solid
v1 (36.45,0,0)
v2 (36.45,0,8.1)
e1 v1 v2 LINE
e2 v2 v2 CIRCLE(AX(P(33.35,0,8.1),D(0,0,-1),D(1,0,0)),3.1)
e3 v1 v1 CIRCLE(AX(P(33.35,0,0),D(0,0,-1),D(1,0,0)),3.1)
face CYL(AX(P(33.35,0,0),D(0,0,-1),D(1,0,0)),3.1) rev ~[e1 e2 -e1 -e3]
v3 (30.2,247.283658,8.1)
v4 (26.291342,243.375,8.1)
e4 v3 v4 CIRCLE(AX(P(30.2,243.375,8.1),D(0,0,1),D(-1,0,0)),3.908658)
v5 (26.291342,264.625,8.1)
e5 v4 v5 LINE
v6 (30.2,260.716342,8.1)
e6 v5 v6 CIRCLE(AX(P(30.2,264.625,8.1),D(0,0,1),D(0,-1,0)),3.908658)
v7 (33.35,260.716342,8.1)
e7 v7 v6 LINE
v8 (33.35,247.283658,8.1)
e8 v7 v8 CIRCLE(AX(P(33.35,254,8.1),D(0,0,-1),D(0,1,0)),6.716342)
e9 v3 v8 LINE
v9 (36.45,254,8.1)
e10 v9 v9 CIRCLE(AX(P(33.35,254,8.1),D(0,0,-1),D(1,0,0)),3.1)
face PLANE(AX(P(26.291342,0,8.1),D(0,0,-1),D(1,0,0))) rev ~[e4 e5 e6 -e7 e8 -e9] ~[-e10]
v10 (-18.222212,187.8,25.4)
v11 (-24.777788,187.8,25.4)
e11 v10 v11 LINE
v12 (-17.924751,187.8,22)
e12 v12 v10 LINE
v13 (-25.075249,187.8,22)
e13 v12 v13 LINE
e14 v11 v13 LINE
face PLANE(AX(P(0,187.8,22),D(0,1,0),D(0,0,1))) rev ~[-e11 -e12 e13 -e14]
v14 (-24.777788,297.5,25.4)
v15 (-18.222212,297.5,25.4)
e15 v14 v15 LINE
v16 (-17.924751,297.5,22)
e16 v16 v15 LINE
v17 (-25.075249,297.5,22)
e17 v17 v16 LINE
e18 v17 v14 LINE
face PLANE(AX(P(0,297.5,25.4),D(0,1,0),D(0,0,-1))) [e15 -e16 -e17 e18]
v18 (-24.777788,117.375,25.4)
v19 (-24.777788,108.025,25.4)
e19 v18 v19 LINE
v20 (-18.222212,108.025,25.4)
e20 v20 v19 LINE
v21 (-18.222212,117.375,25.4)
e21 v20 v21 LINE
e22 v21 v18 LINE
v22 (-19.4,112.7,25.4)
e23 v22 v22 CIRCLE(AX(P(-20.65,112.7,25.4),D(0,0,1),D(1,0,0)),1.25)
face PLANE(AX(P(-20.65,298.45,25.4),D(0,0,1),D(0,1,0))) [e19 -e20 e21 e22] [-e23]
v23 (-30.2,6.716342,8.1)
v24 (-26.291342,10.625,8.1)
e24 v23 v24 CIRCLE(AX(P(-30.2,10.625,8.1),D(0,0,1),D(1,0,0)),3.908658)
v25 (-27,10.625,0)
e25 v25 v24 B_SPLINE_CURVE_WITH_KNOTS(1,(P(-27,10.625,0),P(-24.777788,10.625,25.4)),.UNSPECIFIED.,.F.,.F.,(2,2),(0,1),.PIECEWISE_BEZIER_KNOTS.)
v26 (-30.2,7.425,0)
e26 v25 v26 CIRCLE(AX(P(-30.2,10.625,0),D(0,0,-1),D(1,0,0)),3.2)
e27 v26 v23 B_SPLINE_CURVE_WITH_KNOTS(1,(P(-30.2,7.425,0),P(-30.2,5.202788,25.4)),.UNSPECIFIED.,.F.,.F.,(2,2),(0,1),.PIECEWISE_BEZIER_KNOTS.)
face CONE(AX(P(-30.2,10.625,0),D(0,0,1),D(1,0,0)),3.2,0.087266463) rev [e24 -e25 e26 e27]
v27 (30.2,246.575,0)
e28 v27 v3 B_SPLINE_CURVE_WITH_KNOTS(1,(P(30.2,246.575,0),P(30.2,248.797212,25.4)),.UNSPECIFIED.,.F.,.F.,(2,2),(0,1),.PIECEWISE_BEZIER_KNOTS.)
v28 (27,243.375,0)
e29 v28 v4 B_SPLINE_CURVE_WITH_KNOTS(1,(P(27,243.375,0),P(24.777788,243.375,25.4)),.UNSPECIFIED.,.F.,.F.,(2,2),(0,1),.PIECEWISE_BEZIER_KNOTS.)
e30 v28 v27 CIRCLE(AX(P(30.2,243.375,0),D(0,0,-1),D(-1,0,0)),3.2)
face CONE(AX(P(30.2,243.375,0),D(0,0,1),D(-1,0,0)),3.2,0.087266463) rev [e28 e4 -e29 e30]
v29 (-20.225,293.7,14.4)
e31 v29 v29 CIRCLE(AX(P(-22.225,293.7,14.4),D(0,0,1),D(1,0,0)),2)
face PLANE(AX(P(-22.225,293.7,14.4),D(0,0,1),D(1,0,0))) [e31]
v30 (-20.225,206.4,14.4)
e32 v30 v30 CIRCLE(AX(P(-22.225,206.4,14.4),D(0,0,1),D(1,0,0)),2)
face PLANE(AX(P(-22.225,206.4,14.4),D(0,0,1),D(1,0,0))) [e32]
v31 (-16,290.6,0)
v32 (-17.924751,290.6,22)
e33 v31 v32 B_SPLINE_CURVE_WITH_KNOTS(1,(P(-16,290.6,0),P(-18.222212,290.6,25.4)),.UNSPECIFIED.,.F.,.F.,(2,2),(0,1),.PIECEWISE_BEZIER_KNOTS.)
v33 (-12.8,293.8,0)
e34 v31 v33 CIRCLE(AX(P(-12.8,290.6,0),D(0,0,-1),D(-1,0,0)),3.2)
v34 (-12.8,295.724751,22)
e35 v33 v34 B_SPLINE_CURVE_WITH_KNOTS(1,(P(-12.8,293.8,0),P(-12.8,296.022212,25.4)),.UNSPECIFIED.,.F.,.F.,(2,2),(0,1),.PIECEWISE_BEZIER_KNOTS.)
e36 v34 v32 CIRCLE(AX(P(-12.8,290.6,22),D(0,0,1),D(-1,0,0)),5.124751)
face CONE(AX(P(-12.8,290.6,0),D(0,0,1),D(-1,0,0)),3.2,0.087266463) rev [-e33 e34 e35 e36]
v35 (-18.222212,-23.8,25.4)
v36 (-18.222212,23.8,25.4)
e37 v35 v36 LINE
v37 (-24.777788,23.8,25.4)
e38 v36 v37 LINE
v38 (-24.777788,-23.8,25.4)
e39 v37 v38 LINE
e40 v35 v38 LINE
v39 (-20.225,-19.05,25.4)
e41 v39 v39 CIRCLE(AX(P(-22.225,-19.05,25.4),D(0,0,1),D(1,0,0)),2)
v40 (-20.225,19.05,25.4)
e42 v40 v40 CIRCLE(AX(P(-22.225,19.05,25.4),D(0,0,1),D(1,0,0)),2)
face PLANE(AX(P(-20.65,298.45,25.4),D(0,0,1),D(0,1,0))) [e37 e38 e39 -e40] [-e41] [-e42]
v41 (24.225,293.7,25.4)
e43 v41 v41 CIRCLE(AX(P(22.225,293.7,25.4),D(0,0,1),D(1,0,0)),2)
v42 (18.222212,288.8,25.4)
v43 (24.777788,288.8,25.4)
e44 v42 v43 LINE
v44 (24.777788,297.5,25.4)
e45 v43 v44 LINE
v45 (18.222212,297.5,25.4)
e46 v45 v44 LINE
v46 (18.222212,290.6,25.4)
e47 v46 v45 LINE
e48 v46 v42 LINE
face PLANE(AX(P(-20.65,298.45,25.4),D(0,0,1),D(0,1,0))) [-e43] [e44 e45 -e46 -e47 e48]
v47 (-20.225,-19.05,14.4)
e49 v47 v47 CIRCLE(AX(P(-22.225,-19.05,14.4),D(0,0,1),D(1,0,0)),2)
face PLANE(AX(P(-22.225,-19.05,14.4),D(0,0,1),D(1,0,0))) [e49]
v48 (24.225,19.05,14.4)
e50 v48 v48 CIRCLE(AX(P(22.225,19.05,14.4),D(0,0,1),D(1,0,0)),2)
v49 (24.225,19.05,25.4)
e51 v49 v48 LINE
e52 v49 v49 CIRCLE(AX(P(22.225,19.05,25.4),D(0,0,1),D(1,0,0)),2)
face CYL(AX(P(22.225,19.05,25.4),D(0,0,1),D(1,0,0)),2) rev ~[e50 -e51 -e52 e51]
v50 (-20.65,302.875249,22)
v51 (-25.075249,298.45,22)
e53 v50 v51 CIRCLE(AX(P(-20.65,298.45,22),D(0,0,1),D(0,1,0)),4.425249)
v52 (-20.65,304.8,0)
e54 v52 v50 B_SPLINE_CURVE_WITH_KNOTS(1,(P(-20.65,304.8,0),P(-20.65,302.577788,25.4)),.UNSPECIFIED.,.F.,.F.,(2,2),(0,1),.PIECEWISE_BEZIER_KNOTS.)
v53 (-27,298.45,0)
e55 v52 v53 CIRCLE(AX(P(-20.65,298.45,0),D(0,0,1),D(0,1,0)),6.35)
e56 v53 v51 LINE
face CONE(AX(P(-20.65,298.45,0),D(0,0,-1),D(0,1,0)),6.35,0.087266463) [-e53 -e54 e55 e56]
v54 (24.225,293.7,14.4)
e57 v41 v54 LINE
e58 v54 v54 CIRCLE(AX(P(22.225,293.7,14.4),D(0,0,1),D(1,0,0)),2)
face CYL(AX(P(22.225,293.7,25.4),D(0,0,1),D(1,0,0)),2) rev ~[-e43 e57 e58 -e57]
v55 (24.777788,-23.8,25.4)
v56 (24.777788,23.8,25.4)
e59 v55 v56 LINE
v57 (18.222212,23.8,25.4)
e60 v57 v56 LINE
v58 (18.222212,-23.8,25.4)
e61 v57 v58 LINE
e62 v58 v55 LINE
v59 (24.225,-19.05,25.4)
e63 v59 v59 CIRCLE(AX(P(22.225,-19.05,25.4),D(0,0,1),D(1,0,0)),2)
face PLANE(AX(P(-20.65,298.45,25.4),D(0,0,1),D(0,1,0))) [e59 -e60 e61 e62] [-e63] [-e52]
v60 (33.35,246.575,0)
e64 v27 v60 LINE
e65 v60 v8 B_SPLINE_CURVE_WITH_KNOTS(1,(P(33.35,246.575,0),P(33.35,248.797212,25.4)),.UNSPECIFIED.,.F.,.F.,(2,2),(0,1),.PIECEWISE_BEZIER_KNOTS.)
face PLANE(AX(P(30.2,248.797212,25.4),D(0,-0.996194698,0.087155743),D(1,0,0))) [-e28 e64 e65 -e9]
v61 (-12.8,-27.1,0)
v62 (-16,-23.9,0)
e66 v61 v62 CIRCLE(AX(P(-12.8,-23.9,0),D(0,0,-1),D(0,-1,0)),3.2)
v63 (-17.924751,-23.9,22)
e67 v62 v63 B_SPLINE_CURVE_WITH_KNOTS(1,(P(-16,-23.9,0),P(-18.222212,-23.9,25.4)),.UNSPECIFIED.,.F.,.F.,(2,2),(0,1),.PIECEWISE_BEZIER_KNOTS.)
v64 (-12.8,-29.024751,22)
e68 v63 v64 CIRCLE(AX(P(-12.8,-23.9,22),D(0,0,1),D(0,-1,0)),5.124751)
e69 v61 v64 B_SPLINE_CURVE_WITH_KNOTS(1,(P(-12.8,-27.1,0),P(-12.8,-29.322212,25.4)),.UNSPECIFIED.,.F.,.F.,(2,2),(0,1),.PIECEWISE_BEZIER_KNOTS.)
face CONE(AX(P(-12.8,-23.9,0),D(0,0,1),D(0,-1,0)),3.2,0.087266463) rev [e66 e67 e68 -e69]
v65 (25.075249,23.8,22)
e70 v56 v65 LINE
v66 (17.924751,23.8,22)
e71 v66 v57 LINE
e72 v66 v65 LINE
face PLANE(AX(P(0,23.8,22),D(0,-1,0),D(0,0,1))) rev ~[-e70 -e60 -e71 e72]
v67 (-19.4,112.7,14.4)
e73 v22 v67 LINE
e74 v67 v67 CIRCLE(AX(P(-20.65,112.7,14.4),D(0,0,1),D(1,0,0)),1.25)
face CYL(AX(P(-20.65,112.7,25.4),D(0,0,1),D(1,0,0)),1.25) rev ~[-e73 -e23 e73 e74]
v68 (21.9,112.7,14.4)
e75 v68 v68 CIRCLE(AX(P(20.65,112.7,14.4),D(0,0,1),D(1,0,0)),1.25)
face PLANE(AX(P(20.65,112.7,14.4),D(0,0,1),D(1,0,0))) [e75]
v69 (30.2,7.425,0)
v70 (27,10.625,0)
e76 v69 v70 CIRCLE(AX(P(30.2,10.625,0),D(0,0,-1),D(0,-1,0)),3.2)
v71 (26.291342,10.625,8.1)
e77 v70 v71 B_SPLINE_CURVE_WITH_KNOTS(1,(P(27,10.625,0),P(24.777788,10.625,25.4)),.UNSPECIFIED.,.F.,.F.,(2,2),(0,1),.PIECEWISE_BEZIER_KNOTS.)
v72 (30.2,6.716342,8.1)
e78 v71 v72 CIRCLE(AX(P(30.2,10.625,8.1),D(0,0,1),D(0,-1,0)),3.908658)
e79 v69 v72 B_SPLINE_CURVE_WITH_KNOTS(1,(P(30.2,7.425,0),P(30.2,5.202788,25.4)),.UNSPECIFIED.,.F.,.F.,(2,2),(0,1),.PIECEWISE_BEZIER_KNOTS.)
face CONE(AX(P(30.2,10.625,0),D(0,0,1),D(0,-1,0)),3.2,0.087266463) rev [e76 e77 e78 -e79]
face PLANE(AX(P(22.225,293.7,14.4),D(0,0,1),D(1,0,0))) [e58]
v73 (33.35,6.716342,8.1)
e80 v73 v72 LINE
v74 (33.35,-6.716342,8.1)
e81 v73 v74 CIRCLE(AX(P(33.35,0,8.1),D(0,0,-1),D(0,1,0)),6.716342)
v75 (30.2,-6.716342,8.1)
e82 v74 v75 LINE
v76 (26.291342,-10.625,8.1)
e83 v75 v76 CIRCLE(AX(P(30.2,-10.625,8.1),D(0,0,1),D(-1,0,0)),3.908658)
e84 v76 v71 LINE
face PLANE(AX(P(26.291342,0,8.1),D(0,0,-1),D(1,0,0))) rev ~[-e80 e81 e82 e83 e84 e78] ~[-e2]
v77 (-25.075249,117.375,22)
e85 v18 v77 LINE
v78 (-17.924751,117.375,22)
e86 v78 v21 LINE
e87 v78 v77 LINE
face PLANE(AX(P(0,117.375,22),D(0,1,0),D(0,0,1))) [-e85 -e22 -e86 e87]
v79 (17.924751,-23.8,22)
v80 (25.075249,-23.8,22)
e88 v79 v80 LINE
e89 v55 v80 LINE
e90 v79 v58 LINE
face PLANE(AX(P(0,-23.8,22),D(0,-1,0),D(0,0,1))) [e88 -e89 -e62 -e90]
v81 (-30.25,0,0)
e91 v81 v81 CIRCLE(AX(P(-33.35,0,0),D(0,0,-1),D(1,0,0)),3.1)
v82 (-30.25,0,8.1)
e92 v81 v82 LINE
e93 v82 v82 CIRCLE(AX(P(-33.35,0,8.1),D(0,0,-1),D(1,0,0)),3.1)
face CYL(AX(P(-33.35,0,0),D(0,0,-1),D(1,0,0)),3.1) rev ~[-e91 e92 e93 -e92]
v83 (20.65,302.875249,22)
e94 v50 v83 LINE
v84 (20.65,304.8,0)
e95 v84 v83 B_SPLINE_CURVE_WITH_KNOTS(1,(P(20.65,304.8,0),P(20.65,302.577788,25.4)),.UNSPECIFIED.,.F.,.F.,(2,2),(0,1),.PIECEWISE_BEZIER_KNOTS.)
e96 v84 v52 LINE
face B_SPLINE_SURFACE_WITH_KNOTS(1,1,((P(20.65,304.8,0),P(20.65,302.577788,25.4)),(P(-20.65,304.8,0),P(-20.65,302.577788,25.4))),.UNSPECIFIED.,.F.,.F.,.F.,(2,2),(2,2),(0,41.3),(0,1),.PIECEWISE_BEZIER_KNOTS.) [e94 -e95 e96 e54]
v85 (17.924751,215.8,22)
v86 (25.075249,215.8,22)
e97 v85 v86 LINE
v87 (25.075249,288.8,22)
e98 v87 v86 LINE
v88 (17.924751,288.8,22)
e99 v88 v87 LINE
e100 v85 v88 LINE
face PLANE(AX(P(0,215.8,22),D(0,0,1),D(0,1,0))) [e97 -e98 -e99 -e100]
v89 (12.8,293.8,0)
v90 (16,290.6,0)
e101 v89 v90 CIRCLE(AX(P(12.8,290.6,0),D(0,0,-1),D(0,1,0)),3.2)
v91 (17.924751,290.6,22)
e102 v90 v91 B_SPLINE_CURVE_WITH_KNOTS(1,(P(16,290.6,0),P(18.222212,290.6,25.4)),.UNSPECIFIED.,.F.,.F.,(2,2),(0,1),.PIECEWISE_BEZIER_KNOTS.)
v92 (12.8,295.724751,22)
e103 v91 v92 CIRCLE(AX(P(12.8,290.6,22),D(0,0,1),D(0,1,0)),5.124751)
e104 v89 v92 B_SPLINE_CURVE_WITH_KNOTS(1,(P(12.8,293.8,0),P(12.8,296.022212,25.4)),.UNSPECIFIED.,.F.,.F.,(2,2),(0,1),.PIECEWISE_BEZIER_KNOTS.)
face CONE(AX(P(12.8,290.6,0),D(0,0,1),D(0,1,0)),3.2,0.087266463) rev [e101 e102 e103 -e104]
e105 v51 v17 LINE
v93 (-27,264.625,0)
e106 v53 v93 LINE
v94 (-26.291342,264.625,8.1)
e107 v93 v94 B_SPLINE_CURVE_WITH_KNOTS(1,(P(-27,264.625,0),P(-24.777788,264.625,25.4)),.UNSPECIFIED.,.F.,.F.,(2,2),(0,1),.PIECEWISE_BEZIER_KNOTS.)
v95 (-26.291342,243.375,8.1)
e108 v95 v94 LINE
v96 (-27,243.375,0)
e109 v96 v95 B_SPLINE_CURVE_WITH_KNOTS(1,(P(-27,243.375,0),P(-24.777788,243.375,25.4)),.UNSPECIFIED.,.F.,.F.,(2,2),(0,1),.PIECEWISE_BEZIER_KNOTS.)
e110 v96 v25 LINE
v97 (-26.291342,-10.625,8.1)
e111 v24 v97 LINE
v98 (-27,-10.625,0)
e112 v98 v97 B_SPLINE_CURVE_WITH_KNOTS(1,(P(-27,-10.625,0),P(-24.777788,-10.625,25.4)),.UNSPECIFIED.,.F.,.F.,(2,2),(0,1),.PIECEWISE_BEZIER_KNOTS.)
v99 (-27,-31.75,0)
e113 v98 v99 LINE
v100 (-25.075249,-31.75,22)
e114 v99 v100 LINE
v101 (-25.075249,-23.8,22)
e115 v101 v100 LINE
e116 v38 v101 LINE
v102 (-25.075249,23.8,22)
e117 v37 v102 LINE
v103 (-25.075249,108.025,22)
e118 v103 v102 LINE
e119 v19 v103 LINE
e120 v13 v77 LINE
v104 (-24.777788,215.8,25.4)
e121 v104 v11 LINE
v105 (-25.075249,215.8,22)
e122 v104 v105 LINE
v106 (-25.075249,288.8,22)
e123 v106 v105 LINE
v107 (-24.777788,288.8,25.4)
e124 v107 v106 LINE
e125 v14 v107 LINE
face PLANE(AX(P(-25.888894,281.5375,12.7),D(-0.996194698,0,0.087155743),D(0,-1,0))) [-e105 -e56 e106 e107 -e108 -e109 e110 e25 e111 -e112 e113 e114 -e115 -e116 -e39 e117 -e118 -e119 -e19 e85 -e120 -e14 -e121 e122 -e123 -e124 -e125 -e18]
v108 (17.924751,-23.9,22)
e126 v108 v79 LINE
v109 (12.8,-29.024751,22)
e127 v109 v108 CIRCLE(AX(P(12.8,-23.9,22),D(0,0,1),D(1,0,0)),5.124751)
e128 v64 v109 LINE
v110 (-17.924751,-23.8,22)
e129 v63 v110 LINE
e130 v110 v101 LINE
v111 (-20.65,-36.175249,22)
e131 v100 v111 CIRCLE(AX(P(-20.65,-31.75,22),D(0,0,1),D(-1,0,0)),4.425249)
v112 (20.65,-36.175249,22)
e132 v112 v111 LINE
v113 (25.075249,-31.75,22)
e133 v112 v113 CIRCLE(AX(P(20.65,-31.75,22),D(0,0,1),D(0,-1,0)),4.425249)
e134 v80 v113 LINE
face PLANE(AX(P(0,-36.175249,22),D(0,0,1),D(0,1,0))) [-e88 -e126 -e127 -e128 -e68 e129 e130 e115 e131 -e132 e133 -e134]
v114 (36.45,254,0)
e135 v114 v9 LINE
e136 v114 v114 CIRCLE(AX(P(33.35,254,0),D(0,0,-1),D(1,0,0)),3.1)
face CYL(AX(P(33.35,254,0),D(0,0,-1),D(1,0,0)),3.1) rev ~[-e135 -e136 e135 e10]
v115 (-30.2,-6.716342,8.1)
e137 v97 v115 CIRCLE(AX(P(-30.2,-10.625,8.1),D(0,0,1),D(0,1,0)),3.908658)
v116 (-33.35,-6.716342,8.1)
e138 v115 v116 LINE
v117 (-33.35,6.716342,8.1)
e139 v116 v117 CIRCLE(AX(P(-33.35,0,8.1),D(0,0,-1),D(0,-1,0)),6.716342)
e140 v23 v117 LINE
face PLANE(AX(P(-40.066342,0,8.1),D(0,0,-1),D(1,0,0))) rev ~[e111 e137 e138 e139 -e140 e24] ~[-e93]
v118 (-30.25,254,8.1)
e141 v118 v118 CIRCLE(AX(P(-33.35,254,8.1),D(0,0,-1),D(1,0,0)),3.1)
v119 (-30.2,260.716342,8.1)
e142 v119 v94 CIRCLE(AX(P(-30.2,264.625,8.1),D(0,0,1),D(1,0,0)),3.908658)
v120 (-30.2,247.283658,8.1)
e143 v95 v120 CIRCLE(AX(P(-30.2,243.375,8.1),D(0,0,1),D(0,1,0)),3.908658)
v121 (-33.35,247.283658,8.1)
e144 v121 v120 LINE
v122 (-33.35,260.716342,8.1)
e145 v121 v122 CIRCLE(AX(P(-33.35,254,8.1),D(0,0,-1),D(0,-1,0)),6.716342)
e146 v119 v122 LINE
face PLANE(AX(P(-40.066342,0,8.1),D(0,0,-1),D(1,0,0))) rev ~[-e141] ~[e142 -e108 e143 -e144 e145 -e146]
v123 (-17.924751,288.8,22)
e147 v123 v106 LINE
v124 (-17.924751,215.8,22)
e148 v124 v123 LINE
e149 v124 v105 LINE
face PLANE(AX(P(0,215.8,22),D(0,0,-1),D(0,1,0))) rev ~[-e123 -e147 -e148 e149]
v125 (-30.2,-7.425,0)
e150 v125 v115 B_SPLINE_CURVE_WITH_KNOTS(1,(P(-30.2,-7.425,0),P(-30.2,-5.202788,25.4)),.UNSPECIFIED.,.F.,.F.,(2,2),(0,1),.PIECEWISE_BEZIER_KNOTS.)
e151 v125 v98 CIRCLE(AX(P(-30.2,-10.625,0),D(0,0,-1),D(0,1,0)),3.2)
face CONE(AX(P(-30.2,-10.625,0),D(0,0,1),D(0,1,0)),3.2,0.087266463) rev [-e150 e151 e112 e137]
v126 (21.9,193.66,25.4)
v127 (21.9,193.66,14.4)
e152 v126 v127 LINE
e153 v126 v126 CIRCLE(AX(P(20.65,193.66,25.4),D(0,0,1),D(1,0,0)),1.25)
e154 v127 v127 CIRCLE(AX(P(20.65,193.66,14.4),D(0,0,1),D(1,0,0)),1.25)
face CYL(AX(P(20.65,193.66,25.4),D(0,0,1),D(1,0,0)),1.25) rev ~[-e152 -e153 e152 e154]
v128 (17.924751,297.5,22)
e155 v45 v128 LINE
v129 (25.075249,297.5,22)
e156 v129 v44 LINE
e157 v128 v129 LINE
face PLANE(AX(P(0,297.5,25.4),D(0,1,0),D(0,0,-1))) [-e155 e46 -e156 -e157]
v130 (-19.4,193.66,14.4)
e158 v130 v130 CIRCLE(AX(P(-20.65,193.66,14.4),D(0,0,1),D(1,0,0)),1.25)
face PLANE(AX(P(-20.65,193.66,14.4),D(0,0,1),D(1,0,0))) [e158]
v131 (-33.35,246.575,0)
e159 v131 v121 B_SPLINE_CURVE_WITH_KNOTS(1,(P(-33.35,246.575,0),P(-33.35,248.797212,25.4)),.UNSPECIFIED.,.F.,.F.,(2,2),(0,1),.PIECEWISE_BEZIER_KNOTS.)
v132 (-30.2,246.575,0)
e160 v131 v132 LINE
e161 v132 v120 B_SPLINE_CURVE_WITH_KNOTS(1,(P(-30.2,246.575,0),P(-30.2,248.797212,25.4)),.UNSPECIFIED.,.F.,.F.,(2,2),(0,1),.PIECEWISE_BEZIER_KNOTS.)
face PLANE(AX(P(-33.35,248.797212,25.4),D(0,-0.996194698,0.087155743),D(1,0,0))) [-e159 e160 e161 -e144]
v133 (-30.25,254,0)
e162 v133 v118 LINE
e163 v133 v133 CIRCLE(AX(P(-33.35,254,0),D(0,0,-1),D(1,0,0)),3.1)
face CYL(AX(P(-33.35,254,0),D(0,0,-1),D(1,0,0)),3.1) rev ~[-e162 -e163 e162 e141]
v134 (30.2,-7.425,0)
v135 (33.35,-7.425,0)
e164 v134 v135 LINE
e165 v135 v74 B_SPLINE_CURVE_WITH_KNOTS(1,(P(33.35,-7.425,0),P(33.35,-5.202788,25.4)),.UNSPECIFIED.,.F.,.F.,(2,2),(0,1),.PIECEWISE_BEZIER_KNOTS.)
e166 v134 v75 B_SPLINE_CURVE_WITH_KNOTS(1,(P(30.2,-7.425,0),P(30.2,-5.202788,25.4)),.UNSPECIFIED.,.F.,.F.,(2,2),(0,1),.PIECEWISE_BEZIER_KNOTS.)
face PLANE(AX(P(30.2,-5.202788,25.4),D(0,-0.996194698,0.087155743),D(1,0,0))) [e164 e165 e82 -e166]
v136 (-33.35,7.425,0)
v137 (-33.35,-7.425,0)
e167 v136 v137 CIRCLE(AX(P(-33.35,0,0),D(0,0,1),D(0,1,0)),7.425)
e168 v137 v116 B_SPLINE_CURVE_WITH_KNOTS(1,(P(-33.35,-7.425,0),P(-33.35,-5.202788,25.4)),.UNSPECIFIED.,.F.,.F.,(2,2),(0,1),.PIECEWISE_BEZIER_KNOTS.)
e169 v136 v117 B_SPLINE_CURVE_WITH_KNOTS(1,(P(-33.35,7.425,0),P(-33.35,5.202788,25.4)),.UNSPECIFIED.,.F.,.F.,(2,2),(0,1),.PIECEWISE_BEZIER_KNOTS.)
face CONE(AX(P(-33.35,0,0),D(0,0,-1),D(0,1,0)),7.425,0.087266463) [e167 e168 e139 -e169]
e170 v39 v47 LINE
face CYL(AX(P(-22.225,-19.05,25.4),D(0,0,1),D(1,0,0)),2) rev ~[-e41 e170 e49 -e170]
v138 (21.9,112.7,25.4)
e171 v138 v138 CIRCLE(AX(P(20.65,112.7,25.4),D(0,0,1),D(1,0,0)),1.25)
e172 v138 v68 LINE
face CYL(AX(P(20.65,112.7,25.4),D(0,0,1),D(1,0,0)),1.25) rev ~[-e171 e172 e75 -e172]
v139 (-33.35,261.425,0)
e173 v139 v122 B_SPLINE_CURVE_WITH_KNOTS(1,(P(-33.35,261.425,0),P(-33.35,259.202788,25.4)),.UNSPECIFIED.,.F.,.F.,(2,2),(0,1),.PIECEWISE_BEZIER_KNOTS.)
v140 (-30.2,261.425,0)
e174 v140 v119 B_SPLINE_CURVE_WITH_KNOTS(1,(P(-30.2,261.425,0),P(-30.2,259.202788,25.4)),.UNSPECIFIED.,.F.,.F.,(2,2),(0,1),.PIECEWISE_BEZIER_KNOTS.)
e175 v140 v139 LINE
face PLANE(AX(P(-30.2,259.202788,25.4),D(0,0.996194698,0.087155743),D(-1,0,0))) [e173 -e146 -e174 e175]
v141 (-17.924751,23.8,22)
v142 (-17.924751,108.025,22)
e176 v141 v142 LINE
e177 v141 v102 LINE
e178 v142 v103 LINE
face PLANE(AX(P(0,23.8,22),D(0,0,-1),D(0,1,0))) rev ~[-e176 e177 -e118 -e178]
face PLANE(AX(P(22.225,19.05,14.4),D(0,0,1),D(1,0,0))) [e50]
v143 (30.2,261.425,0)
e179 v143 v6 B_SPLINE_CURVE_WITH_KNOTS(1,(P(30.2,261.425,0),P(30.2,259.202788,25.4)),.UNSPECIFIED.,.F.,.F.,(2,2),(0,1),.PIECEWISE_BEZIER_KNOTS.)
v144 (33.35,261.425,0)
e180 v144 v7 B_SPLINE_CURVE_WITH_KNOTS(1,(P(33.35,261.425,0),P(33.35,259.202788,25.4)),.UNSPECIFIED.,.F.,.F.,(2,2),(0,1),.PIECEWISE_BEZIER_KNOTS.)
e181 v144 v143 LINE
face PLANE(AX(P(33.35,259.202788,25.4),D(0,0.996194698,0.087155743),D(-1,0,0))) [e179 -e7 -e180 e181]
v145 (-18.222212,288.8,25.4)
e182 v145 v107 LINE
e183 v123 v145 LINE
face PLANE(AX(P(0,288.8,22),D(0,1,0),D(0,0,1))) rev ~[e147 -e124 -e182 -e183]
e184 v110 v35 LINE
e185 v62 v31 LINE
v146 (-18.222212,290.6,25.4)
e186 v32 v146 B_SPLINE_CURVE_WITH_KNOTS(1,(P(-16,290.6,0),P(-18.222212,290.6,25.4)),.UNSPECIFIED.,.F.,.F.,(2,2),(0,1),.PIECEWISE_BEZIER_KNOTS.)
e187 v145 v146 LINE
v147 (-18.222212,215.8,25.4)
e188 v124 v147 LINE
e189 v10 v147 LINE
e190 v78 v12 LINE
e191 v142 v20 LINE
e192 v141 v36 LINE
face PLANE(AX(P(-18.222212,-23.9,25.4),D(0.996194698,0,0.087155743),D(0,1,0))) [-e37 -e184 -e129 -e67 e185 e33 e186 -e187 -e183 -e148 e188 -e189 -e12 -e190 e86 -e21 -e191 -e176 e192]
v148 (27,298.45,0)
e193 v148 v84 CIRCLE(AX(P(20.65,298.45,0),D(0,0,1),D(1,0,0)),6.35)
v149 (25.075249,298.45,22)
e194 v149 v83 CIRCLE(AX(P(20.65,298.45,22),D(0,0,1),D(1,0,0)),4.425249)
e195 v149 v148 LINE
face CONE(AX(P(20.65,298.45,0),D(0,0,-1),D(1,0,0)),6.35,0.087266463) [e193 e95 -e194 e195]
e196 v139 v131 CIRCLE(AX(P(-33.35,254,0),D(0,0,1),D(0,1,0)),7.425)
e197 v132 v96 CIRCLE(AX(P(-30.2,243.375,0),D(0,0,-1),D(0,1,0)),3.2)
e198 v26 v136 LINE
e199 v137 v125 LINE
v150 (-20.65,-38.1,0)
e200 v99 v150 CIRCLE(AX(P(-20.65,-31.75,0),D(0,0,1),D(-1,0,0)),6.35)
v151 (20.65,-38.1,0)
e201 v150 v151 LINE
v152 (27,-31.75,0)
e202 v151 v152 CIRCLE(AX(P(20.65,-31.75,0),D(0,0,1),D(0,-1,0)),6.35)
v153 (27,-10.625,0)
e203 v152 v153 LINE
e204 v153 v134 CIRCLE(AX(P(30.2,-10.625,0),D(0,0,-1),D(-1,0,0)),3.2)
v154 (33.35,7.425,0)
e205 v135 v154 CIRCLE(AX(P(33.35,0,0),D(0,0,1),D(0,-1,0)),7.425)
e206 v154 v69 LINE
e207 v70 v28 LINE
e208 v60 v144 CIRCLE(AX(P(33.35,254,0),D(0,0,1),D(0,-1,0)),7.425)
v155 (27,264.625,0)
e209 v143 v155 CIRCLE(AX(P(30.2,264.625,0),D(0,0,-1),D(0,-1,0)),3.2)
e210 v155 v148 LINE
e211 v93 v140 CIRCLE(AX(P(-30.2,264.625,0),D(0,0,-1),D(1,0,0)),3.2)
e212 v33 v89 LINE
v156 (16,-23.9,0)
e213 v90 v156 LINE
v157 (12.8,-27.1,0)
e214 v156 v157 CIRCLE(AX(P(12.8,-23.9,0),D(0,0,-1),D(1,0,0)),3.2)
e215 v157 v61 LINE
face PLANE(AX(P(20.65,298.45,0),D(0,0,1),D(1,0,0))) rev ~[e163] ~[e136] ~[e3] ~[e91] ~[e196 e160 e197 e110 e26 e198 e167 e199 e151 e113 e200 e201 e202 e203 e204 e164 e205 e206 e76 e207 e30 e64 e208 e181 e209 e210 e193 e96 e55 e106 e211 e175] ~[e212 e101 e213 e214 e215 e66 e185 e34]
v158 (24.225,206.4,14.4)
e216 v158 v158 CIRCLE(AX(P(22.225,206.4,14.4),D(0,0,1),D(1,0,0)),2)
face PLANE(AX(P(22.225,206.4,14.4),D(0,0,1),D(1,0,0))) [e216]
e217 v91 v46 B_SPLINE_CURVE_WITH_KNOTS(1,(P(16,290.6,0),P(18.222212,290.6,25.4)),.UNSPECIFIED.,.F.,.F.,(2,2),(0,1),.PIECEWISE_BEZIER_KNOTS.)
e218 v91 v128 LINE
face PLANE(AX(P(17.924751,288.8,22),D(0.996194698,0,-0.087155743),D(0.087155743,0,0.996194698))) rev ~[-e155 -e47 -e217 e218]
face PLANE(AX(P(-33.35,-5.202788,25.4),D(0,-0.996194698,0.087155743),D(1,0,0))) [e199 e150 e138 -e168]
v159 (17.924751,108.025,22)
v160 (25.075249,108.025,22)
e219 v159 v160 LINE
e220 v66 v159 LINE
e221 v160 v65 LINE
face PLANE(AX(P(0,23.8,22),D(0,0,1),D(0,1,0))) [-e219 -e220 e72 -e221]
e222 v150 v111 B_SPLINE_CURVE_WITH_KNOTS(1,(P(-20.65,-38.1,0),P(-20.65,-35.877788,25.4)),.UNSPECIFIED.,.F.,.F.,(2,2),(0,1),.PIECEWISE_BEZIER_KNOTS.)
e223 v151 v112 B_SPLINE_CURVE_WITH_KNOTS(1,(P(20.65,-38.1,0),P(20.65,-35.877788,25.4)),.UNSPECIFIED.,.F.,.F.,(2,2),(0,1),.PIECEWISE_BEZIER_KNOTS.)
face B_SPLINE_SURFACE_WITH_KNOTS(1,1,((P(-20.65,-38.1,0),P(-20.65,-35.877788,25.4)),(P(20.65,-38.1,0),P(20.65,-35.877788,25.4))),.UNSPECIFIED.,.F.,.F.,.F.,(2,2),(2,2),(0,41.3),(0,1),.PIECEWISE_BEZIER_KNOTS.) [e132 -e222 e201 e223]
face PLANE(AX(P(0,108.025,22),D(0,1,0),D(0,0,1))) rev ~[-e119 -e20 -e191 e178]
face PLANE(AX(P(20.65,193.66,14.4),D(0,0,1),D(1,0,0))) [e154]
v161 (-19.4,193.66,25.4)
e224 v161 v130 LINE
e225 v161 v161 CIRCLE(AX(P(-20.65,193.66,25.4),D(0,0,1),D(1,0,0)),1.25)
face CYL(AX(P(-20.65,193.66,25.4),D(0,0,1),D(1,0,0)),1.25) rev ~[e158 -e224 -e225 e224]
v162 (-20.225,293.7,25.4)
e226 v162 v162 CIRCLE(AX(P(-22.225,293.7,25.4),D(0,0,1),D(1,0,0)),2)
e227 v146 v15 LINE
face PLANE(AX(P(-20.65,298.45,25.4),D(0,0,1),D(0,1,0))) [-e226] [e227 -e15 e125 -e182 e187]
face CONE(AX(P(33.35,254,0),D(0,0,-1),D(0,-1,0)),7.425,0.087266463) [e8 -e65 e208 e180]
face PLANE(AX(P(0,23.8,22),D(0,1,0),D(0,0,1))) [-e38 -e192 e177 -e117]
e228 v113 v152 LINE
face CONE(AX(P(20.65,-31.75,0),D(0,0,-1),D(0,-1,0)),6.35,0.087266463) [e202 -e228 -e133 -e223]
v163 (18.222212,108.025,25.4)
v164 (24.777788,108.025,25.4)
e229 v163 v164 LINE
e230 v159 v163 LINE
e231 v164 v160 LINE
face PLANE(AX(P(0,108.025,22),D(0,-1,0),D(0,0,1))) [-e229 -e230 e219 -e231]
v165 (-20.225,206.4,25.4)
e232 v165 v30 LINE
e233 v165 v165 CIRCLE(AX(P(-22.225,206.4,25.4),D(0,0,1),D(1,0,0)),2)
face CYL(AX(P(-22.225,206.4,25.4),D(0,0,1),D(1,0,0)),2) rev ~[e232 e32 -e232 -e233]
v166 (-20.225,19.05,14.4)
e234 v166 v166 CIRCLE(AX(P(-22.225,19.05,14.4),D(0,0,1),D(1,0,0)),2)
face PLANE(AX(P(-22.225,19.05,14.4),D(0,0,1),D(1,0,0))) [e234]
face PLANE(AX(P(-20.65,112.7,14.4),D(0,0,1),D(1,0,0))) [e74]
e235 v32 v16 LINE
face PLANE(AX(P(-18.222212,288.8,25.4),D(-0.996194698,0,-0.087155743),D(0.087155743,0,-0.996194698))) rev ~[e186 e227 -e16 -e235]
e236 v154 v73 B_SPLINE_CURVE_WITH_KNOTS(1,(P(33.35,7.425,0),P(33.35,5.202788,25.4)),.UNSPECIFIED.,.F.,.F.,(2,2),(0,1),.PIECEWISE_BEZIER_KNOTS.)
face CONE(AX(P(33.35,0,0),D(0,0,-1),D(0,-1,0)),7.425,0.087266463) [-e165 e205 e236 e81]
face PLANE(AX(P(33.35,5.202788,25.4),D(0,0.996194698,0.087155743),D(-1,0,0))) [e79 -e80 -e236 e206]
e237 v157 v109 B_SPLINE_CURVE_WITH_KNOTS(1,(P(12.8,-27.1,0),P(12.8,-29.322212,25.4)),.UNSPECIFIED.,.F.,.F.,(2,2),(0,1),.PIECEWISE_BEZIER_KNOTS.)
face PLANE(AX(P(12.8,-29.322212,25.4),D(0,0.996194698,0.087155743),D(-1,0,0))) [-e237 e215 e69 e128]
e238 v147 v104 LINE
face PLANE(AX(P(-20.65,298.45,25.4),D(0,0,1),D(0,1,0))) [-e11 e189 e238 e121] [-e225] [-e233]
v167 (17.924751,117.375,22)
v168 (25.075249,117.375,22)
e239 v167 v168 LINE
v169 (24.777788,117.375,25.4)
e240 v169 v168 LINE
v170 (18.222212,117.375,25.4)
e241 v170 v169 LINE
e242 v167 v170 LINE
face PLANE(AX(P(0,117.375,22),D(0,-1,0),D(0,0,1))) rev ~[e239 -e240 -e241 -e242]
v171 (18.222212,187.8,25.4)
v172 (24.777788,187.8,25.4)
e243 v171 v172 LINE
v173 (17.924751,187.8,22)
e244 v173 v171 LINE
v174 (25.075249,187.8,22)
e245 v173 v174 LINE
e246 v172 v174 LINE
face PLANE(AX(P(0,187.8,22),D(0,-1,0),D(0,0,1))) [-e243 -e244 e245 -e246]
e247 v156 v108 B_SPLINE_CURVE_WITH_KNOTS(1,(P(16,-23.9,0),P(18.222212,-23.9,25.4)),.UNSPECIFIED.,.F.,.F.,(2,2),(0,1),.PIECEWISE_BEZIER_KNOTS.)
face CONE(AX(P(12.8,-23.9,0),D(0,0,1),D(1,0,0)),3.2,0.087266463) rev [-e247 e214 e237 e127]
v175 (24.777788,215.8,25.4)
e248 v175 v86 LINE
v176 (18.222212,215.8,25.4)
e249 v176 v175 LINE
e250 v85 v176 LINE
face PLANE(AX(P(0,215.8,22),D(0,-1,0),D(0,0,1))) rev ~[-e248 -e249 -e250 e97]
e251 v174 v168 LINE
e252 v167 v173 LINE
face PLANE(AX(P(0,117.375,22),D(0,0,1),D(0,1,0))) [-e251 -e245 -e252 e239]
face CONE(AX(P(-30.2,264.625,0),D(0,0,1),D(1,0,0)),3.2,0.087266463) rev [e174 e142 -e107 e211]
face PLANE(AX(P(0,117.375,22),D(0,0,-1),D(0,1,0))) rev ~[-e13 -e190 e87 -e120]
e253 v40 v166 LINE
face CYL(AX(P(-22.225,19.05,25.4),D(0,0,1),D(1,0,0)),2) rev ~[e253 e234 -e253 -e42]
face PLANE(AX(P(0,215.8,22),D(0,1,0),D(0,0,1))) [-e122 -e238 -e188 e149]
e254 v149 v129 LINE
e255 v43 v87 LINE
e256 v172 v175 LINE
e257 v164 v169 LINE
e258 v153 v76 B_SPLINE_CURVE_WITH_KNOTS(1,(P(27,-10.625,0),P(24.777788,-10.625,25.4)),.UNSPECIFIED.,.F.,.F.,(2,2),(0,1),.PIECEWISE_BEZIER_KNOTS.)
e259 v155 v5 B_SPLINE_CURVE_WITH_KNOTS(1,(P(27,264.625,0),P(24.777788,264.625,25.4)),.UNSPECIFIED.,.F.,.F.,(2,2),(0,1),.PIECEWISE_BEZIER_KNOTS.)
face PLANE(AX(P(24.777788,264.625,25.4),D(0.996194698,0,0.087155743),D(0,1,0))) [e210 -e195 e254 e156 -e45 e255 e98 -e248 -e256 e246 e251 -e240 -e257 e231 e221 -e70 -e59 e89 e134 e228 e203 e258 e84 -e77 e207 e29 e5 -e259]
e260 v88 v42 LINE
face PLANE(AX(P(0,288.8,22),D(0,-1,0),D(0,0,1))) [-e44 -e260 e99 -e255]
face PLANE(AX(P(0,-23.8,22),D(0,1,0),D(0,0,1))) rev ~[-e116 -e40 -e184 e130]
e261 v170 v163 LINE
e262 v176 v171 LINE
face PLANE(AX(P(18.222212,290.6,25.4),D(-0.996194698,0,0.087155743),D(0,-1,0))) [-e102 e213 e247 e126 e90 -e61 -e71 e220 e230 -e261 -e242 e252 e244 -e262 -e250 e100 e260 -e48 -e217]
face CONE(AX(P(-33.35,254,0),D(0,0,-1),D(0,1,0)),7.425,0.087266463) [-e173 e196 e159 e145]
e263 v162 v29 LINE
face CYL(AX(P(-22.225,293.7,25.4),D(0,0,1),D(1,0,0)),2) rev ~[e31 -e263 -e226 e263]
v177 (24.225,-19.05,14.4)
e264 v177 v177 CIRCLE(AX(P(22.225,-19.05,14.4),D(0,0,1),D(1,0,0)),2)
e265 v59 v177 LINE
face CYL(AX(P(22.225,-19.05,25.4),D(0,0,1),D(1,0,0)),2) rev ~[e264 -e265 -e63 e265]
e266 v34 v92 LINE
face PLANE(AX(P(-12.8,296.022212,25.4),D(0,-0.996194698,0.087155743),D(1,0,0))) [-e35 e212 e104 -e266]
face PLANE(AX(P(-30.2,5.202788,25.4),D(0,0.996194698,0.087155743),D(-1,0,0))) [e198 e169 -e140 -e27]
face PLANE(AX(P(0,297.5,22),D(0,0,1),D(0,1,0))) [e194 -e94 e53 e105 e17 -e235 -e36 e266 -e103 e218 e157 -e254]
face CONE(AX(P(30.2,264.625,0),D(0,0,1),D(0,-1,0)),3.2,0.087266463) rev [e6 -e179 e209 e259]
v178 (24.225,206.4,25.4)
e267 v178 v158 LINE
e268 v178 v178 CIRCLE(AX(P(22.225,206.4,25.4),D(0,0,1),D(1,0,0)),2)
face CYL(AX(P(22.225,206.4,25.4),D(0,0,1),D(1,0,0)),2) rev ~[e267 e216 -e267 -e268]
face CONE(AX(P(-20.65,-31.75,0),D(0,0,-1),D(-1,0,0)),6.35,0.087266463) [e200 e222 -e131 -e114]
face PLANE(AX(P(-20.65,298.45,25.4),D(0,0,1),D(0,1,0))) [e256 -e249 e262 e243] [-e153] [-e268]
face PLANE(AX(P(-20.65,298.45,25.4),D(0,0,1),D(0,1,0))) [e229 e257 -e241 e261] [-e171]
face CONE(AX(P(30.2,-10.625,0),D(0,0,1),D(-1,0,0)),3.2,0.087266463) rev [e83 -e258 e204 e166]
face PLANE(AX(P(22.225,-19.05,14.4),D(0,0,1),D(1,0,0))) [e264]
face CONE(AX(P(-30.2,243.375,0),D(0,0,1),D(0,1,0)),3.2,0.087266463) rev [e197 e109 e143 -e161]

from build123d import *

# Parameters (mm, degrees)
F1_DEPTH      = 25.4
F1_TAPER      = 5
F3_DEPTH      = 304.8010001
F3_DEPTH_BACK = 38.1010001
F4_W          = 70.425
F4_H          = 3.4
F4_W_2        = 84.225
F5_DEPTH      = 40.7760001
F5_DEPTH_BACK = 40.7760001
F6_W          = 73
F6_H          = 3.4
F7_DEPTH      = 40.7760001
F7_DEPTH_BACK = 40.7760001
F9_DEPTH      = 16.0010001
F10_R         = 3.1
F11_DEPTH     = 25.4010001
F12_R         = 2
F12_R_2       = 1.25
F13_DEPTH     = 11


with BuildPart() as f1:
    # F0 (on Top) → F1 (new body)
    with BuildSketch(Plane.XY):
        with BuildLine():
            Line((20.65, 304.8), (-20.65, 304.8))
            ThreePointArc((-20.65, 304.8), (-25.1401280605, 302.9401280605), (-27, 298.45))
            Line((-27, 298.45), (-27, 264.625))
            ThreePointArc((-27, 264.625), (-27.9372583002, 262.3622583002), (-30.2, 261.425))
            Line((-30.2, 261.425), (-33.35, 261.425))
            ThreePointArc((-33.35, 261.425), (-40.775, 254), (-33.35, 246.575))
            Line((-33.35, 246.575), (-30.2, 246.575))
            ThreePointArc((-30.2, 246.575), (-27.9372583002, 245.6377416998), (-27, 243.375))
            Line((-27, 243.375), (-27, 10.625))
            ThreePointArc((-27, 10.625), (-27.9372583002, 8.3622583002), (-30.2, 7.425))
            Line((-30.2, 7.425), (-33.35, 7.425))
            ThreePointArc((-33.35, 7.425), (-40.775, 0), (-33.35, -7.425))
            Line((-33.35, -7.425), (-30.2, -7.425))
            ThreePointArc((-30.2, -7.425), (-27.9372583002, -8.3622583002), (-27, -10.625))
            Line((-27, -10.625), (-27, -31.75))
            ThreePointArc((-27, -31.75), (-25.1401280605, -36.2401280605), (-20.65, -38.1))
            Line((-20.65, -38.1), (20.65, -38.1))
            ThreePointArc((20.65, -38.1), (25.1401280605, -36.2401280605), (27, -31.75))
            Line((27, -31.75), (27, -10.625))
            ThreePointArc((27, -10.625), (27.9372583002, -8.3622583002), (30.2, -7.425))
            Line((30.2, -7.425), (33.35, -7.425))
            ThreePointArc((33.35, -7.425), (40.775, 0), (33.35, 7.425))
            Line((33.35, 7.425), (30.2, 7.425))
            ThreePointArc((30.2, 7.425), (27.9372583002, 8.3622583002), (27, 10.625))
            Line((27, 10.625), (27, 243.375))
            ThreePointArc((27, 243.375), (27.9372583002, 245.6377416998), (30.2, 246.575))
            Line((30.2, 246.575), (33.35, 246.575))
            ThreePointArc((33.35, 246.575), (40.775, 254), (33.35, 261.425))
            Line((33.35, 261.425), (30.2, 261.425))
            ThreePointArc((30.2, 261.425), (27.9372583002, 262.3622583002), (27, 264.625))
            Line((27, 264.625), (27, 298.45))
            ThreePointArc((27, 298.45), (25.1401280605, 302.9401280605), (20.65, 304.8))
        make_face()
        with BuildLine():
            ThreePointArc((-16, 290.6), (-15.0627416998, 292.8627416998), (-12.8, 293.8))
            Line((-12.8, 293.8), (12.8, 293.8))
            ThreePointArc((12.8, 293.8), (15.0627416998, 292.8627416998), (16, 290.6))
            Line((16, 290.6), (16, -23.9))
            ThreePointArc((16, -23.9), (15.0627416998, -26.1627416998), (12.8, -27.1))
            Line((12.8, -27.1), (-12.8, -27.1))
            ThreePointArc((-12.8, -27.1), (-15.0627416998, -26.1627416998), (-16, -23.9))
            Line((-16, -23.9), (-16, 290.6))
        make_face(mode=Mode.SUBTRACT)
    extrude(amount=F1_DEPTH, taper=F1_TAPER)

    # F2 (on Front) → F3 (cut, two sides)
    with BuildSketch(Plane.XZ) as f3_sk:
        Polygon((-26.2913418254, 8.1), (-24.7777879464, 25.4), (-38.5527879464, 25.4), (-40.0663418254, 8.1), align=None)
        Polygon((38.5527879464, 25.4), (24.7777879464, 25.4), (26.2913418254, 8.1), (40.0663418254, 8.1), align=None)
    extrude(amount=-F3_DEPTH, mode=Mode.SUBTRACT)
    extrude(f3_sk.sketch, amount=F3_DEPTH_BACK, mode=Mode.SUBTRACT)

    # F4 (on Right) → F5 (cut, two sides)
    with BuildSketch(Plane.YZ) as f5_sk:
        with Locations((152.5875, 23.7)):
            Rectangle(F4_W, F4_H)
        Polygon((-23.8, 22), (-23.8, 25.4), (-35.8777879464, 25.4), (-36.1752494024, 22), align=None)
        with Locations((65.9125, 23.7)):
            Rectangle(F4_W_2, F4_H)
    extrude(amount=-F5_DEPTH, mode=Mode.SUBTRACT)
    extrude(f5_sk.sketch, amount=F5_DEPTH_BACK, mode=Mode.SUBTRACT)

    # F6 (on Right) → F7 (cut, two sides)
    with BuildSketch(Plane.YZ) as f7_sk:
        Polygon((302.8752494024, 22), (302.5777879464, 25.4), (297.5, 25.4), (297.5, 22), align=None)
        with Locations((252.3, 23.7)):
            Rectangle(F6_W, F6_H)
    extrude(amount=-F7_DEPTH, mode=Mode.SUBTRACT)
    extrude(f7_sk.sketch, amount=F7_DEPTH_BACK, mode=Mode.SUBTRACT)

    # F8 (on face) → F9 (cut, through all)
    with BuildSketch(Plane.XZ.offset(-288.8)):
        Polygon((-18.2222120536, 25.4), (-17.9247505976, 22), (17.9247505976, 22), (18.2222120536, 25.4), align=None)
    extrude(amount=-F9_DEPTH, mode=Mode.SUBTRACT)

    # F10 (on face) → F11 (cut, through all)
    with BuildSketch(Plane(origin=(0, 0, 0), x_dir=(1, 0, 0), z_dir=(0, 0, -1))):
        with Locations((-33.35, 0)):
            Circle(F10_R)
        with Locations((33.35, 0)):
            Circle(F10_R)
        with Locations((-33.35, -254)):
            Circle(F10_R)
        with Locations((33.35, -254)):
            Circle(F10_R)
    extrude(amount=-F11_DEPTH, mode=Mode.SUBTRACT)

    # F12 (on face) → F13 (cut)
    with BuildSketch(Plane.XY.offset(25.4)):
        with Locations((22.225, -19.05)):
            Circle(F12_R)
        with Locations((22.225, 19.05)):
            Circle(F12_R)
        with Locations((-22.225, 19.05)):
            Circle(F12_R)
        with Locations((-22.225, -19.05)):
            Circle(F12_R)
        with Locations((22.225, 293.7)):
            Circle(F12_R)
        with Locations((22.225, 206.4)):
            Circle(F12_R)
        with Locations((-22.225, 206.4)):
            Circle(F12_R)
        with Locations((-22.225, 293.7)):
            Circle(F12_R)
        with Locations((20.65, 193.66)):
            Circle(F12_R_2)
        with Locations((20.65, 112.7)):
            Circle(F12_R_2)
        with Locations((-20.65, 112.7)):
            Circle(F12_R_2)
        with Locations((-20.65, 193.66)):
            Circle(F12_R_2)
    extrude(amount=-F13_DEPTH, mode=Mode.SUBTRACT)


solid = f1.part
